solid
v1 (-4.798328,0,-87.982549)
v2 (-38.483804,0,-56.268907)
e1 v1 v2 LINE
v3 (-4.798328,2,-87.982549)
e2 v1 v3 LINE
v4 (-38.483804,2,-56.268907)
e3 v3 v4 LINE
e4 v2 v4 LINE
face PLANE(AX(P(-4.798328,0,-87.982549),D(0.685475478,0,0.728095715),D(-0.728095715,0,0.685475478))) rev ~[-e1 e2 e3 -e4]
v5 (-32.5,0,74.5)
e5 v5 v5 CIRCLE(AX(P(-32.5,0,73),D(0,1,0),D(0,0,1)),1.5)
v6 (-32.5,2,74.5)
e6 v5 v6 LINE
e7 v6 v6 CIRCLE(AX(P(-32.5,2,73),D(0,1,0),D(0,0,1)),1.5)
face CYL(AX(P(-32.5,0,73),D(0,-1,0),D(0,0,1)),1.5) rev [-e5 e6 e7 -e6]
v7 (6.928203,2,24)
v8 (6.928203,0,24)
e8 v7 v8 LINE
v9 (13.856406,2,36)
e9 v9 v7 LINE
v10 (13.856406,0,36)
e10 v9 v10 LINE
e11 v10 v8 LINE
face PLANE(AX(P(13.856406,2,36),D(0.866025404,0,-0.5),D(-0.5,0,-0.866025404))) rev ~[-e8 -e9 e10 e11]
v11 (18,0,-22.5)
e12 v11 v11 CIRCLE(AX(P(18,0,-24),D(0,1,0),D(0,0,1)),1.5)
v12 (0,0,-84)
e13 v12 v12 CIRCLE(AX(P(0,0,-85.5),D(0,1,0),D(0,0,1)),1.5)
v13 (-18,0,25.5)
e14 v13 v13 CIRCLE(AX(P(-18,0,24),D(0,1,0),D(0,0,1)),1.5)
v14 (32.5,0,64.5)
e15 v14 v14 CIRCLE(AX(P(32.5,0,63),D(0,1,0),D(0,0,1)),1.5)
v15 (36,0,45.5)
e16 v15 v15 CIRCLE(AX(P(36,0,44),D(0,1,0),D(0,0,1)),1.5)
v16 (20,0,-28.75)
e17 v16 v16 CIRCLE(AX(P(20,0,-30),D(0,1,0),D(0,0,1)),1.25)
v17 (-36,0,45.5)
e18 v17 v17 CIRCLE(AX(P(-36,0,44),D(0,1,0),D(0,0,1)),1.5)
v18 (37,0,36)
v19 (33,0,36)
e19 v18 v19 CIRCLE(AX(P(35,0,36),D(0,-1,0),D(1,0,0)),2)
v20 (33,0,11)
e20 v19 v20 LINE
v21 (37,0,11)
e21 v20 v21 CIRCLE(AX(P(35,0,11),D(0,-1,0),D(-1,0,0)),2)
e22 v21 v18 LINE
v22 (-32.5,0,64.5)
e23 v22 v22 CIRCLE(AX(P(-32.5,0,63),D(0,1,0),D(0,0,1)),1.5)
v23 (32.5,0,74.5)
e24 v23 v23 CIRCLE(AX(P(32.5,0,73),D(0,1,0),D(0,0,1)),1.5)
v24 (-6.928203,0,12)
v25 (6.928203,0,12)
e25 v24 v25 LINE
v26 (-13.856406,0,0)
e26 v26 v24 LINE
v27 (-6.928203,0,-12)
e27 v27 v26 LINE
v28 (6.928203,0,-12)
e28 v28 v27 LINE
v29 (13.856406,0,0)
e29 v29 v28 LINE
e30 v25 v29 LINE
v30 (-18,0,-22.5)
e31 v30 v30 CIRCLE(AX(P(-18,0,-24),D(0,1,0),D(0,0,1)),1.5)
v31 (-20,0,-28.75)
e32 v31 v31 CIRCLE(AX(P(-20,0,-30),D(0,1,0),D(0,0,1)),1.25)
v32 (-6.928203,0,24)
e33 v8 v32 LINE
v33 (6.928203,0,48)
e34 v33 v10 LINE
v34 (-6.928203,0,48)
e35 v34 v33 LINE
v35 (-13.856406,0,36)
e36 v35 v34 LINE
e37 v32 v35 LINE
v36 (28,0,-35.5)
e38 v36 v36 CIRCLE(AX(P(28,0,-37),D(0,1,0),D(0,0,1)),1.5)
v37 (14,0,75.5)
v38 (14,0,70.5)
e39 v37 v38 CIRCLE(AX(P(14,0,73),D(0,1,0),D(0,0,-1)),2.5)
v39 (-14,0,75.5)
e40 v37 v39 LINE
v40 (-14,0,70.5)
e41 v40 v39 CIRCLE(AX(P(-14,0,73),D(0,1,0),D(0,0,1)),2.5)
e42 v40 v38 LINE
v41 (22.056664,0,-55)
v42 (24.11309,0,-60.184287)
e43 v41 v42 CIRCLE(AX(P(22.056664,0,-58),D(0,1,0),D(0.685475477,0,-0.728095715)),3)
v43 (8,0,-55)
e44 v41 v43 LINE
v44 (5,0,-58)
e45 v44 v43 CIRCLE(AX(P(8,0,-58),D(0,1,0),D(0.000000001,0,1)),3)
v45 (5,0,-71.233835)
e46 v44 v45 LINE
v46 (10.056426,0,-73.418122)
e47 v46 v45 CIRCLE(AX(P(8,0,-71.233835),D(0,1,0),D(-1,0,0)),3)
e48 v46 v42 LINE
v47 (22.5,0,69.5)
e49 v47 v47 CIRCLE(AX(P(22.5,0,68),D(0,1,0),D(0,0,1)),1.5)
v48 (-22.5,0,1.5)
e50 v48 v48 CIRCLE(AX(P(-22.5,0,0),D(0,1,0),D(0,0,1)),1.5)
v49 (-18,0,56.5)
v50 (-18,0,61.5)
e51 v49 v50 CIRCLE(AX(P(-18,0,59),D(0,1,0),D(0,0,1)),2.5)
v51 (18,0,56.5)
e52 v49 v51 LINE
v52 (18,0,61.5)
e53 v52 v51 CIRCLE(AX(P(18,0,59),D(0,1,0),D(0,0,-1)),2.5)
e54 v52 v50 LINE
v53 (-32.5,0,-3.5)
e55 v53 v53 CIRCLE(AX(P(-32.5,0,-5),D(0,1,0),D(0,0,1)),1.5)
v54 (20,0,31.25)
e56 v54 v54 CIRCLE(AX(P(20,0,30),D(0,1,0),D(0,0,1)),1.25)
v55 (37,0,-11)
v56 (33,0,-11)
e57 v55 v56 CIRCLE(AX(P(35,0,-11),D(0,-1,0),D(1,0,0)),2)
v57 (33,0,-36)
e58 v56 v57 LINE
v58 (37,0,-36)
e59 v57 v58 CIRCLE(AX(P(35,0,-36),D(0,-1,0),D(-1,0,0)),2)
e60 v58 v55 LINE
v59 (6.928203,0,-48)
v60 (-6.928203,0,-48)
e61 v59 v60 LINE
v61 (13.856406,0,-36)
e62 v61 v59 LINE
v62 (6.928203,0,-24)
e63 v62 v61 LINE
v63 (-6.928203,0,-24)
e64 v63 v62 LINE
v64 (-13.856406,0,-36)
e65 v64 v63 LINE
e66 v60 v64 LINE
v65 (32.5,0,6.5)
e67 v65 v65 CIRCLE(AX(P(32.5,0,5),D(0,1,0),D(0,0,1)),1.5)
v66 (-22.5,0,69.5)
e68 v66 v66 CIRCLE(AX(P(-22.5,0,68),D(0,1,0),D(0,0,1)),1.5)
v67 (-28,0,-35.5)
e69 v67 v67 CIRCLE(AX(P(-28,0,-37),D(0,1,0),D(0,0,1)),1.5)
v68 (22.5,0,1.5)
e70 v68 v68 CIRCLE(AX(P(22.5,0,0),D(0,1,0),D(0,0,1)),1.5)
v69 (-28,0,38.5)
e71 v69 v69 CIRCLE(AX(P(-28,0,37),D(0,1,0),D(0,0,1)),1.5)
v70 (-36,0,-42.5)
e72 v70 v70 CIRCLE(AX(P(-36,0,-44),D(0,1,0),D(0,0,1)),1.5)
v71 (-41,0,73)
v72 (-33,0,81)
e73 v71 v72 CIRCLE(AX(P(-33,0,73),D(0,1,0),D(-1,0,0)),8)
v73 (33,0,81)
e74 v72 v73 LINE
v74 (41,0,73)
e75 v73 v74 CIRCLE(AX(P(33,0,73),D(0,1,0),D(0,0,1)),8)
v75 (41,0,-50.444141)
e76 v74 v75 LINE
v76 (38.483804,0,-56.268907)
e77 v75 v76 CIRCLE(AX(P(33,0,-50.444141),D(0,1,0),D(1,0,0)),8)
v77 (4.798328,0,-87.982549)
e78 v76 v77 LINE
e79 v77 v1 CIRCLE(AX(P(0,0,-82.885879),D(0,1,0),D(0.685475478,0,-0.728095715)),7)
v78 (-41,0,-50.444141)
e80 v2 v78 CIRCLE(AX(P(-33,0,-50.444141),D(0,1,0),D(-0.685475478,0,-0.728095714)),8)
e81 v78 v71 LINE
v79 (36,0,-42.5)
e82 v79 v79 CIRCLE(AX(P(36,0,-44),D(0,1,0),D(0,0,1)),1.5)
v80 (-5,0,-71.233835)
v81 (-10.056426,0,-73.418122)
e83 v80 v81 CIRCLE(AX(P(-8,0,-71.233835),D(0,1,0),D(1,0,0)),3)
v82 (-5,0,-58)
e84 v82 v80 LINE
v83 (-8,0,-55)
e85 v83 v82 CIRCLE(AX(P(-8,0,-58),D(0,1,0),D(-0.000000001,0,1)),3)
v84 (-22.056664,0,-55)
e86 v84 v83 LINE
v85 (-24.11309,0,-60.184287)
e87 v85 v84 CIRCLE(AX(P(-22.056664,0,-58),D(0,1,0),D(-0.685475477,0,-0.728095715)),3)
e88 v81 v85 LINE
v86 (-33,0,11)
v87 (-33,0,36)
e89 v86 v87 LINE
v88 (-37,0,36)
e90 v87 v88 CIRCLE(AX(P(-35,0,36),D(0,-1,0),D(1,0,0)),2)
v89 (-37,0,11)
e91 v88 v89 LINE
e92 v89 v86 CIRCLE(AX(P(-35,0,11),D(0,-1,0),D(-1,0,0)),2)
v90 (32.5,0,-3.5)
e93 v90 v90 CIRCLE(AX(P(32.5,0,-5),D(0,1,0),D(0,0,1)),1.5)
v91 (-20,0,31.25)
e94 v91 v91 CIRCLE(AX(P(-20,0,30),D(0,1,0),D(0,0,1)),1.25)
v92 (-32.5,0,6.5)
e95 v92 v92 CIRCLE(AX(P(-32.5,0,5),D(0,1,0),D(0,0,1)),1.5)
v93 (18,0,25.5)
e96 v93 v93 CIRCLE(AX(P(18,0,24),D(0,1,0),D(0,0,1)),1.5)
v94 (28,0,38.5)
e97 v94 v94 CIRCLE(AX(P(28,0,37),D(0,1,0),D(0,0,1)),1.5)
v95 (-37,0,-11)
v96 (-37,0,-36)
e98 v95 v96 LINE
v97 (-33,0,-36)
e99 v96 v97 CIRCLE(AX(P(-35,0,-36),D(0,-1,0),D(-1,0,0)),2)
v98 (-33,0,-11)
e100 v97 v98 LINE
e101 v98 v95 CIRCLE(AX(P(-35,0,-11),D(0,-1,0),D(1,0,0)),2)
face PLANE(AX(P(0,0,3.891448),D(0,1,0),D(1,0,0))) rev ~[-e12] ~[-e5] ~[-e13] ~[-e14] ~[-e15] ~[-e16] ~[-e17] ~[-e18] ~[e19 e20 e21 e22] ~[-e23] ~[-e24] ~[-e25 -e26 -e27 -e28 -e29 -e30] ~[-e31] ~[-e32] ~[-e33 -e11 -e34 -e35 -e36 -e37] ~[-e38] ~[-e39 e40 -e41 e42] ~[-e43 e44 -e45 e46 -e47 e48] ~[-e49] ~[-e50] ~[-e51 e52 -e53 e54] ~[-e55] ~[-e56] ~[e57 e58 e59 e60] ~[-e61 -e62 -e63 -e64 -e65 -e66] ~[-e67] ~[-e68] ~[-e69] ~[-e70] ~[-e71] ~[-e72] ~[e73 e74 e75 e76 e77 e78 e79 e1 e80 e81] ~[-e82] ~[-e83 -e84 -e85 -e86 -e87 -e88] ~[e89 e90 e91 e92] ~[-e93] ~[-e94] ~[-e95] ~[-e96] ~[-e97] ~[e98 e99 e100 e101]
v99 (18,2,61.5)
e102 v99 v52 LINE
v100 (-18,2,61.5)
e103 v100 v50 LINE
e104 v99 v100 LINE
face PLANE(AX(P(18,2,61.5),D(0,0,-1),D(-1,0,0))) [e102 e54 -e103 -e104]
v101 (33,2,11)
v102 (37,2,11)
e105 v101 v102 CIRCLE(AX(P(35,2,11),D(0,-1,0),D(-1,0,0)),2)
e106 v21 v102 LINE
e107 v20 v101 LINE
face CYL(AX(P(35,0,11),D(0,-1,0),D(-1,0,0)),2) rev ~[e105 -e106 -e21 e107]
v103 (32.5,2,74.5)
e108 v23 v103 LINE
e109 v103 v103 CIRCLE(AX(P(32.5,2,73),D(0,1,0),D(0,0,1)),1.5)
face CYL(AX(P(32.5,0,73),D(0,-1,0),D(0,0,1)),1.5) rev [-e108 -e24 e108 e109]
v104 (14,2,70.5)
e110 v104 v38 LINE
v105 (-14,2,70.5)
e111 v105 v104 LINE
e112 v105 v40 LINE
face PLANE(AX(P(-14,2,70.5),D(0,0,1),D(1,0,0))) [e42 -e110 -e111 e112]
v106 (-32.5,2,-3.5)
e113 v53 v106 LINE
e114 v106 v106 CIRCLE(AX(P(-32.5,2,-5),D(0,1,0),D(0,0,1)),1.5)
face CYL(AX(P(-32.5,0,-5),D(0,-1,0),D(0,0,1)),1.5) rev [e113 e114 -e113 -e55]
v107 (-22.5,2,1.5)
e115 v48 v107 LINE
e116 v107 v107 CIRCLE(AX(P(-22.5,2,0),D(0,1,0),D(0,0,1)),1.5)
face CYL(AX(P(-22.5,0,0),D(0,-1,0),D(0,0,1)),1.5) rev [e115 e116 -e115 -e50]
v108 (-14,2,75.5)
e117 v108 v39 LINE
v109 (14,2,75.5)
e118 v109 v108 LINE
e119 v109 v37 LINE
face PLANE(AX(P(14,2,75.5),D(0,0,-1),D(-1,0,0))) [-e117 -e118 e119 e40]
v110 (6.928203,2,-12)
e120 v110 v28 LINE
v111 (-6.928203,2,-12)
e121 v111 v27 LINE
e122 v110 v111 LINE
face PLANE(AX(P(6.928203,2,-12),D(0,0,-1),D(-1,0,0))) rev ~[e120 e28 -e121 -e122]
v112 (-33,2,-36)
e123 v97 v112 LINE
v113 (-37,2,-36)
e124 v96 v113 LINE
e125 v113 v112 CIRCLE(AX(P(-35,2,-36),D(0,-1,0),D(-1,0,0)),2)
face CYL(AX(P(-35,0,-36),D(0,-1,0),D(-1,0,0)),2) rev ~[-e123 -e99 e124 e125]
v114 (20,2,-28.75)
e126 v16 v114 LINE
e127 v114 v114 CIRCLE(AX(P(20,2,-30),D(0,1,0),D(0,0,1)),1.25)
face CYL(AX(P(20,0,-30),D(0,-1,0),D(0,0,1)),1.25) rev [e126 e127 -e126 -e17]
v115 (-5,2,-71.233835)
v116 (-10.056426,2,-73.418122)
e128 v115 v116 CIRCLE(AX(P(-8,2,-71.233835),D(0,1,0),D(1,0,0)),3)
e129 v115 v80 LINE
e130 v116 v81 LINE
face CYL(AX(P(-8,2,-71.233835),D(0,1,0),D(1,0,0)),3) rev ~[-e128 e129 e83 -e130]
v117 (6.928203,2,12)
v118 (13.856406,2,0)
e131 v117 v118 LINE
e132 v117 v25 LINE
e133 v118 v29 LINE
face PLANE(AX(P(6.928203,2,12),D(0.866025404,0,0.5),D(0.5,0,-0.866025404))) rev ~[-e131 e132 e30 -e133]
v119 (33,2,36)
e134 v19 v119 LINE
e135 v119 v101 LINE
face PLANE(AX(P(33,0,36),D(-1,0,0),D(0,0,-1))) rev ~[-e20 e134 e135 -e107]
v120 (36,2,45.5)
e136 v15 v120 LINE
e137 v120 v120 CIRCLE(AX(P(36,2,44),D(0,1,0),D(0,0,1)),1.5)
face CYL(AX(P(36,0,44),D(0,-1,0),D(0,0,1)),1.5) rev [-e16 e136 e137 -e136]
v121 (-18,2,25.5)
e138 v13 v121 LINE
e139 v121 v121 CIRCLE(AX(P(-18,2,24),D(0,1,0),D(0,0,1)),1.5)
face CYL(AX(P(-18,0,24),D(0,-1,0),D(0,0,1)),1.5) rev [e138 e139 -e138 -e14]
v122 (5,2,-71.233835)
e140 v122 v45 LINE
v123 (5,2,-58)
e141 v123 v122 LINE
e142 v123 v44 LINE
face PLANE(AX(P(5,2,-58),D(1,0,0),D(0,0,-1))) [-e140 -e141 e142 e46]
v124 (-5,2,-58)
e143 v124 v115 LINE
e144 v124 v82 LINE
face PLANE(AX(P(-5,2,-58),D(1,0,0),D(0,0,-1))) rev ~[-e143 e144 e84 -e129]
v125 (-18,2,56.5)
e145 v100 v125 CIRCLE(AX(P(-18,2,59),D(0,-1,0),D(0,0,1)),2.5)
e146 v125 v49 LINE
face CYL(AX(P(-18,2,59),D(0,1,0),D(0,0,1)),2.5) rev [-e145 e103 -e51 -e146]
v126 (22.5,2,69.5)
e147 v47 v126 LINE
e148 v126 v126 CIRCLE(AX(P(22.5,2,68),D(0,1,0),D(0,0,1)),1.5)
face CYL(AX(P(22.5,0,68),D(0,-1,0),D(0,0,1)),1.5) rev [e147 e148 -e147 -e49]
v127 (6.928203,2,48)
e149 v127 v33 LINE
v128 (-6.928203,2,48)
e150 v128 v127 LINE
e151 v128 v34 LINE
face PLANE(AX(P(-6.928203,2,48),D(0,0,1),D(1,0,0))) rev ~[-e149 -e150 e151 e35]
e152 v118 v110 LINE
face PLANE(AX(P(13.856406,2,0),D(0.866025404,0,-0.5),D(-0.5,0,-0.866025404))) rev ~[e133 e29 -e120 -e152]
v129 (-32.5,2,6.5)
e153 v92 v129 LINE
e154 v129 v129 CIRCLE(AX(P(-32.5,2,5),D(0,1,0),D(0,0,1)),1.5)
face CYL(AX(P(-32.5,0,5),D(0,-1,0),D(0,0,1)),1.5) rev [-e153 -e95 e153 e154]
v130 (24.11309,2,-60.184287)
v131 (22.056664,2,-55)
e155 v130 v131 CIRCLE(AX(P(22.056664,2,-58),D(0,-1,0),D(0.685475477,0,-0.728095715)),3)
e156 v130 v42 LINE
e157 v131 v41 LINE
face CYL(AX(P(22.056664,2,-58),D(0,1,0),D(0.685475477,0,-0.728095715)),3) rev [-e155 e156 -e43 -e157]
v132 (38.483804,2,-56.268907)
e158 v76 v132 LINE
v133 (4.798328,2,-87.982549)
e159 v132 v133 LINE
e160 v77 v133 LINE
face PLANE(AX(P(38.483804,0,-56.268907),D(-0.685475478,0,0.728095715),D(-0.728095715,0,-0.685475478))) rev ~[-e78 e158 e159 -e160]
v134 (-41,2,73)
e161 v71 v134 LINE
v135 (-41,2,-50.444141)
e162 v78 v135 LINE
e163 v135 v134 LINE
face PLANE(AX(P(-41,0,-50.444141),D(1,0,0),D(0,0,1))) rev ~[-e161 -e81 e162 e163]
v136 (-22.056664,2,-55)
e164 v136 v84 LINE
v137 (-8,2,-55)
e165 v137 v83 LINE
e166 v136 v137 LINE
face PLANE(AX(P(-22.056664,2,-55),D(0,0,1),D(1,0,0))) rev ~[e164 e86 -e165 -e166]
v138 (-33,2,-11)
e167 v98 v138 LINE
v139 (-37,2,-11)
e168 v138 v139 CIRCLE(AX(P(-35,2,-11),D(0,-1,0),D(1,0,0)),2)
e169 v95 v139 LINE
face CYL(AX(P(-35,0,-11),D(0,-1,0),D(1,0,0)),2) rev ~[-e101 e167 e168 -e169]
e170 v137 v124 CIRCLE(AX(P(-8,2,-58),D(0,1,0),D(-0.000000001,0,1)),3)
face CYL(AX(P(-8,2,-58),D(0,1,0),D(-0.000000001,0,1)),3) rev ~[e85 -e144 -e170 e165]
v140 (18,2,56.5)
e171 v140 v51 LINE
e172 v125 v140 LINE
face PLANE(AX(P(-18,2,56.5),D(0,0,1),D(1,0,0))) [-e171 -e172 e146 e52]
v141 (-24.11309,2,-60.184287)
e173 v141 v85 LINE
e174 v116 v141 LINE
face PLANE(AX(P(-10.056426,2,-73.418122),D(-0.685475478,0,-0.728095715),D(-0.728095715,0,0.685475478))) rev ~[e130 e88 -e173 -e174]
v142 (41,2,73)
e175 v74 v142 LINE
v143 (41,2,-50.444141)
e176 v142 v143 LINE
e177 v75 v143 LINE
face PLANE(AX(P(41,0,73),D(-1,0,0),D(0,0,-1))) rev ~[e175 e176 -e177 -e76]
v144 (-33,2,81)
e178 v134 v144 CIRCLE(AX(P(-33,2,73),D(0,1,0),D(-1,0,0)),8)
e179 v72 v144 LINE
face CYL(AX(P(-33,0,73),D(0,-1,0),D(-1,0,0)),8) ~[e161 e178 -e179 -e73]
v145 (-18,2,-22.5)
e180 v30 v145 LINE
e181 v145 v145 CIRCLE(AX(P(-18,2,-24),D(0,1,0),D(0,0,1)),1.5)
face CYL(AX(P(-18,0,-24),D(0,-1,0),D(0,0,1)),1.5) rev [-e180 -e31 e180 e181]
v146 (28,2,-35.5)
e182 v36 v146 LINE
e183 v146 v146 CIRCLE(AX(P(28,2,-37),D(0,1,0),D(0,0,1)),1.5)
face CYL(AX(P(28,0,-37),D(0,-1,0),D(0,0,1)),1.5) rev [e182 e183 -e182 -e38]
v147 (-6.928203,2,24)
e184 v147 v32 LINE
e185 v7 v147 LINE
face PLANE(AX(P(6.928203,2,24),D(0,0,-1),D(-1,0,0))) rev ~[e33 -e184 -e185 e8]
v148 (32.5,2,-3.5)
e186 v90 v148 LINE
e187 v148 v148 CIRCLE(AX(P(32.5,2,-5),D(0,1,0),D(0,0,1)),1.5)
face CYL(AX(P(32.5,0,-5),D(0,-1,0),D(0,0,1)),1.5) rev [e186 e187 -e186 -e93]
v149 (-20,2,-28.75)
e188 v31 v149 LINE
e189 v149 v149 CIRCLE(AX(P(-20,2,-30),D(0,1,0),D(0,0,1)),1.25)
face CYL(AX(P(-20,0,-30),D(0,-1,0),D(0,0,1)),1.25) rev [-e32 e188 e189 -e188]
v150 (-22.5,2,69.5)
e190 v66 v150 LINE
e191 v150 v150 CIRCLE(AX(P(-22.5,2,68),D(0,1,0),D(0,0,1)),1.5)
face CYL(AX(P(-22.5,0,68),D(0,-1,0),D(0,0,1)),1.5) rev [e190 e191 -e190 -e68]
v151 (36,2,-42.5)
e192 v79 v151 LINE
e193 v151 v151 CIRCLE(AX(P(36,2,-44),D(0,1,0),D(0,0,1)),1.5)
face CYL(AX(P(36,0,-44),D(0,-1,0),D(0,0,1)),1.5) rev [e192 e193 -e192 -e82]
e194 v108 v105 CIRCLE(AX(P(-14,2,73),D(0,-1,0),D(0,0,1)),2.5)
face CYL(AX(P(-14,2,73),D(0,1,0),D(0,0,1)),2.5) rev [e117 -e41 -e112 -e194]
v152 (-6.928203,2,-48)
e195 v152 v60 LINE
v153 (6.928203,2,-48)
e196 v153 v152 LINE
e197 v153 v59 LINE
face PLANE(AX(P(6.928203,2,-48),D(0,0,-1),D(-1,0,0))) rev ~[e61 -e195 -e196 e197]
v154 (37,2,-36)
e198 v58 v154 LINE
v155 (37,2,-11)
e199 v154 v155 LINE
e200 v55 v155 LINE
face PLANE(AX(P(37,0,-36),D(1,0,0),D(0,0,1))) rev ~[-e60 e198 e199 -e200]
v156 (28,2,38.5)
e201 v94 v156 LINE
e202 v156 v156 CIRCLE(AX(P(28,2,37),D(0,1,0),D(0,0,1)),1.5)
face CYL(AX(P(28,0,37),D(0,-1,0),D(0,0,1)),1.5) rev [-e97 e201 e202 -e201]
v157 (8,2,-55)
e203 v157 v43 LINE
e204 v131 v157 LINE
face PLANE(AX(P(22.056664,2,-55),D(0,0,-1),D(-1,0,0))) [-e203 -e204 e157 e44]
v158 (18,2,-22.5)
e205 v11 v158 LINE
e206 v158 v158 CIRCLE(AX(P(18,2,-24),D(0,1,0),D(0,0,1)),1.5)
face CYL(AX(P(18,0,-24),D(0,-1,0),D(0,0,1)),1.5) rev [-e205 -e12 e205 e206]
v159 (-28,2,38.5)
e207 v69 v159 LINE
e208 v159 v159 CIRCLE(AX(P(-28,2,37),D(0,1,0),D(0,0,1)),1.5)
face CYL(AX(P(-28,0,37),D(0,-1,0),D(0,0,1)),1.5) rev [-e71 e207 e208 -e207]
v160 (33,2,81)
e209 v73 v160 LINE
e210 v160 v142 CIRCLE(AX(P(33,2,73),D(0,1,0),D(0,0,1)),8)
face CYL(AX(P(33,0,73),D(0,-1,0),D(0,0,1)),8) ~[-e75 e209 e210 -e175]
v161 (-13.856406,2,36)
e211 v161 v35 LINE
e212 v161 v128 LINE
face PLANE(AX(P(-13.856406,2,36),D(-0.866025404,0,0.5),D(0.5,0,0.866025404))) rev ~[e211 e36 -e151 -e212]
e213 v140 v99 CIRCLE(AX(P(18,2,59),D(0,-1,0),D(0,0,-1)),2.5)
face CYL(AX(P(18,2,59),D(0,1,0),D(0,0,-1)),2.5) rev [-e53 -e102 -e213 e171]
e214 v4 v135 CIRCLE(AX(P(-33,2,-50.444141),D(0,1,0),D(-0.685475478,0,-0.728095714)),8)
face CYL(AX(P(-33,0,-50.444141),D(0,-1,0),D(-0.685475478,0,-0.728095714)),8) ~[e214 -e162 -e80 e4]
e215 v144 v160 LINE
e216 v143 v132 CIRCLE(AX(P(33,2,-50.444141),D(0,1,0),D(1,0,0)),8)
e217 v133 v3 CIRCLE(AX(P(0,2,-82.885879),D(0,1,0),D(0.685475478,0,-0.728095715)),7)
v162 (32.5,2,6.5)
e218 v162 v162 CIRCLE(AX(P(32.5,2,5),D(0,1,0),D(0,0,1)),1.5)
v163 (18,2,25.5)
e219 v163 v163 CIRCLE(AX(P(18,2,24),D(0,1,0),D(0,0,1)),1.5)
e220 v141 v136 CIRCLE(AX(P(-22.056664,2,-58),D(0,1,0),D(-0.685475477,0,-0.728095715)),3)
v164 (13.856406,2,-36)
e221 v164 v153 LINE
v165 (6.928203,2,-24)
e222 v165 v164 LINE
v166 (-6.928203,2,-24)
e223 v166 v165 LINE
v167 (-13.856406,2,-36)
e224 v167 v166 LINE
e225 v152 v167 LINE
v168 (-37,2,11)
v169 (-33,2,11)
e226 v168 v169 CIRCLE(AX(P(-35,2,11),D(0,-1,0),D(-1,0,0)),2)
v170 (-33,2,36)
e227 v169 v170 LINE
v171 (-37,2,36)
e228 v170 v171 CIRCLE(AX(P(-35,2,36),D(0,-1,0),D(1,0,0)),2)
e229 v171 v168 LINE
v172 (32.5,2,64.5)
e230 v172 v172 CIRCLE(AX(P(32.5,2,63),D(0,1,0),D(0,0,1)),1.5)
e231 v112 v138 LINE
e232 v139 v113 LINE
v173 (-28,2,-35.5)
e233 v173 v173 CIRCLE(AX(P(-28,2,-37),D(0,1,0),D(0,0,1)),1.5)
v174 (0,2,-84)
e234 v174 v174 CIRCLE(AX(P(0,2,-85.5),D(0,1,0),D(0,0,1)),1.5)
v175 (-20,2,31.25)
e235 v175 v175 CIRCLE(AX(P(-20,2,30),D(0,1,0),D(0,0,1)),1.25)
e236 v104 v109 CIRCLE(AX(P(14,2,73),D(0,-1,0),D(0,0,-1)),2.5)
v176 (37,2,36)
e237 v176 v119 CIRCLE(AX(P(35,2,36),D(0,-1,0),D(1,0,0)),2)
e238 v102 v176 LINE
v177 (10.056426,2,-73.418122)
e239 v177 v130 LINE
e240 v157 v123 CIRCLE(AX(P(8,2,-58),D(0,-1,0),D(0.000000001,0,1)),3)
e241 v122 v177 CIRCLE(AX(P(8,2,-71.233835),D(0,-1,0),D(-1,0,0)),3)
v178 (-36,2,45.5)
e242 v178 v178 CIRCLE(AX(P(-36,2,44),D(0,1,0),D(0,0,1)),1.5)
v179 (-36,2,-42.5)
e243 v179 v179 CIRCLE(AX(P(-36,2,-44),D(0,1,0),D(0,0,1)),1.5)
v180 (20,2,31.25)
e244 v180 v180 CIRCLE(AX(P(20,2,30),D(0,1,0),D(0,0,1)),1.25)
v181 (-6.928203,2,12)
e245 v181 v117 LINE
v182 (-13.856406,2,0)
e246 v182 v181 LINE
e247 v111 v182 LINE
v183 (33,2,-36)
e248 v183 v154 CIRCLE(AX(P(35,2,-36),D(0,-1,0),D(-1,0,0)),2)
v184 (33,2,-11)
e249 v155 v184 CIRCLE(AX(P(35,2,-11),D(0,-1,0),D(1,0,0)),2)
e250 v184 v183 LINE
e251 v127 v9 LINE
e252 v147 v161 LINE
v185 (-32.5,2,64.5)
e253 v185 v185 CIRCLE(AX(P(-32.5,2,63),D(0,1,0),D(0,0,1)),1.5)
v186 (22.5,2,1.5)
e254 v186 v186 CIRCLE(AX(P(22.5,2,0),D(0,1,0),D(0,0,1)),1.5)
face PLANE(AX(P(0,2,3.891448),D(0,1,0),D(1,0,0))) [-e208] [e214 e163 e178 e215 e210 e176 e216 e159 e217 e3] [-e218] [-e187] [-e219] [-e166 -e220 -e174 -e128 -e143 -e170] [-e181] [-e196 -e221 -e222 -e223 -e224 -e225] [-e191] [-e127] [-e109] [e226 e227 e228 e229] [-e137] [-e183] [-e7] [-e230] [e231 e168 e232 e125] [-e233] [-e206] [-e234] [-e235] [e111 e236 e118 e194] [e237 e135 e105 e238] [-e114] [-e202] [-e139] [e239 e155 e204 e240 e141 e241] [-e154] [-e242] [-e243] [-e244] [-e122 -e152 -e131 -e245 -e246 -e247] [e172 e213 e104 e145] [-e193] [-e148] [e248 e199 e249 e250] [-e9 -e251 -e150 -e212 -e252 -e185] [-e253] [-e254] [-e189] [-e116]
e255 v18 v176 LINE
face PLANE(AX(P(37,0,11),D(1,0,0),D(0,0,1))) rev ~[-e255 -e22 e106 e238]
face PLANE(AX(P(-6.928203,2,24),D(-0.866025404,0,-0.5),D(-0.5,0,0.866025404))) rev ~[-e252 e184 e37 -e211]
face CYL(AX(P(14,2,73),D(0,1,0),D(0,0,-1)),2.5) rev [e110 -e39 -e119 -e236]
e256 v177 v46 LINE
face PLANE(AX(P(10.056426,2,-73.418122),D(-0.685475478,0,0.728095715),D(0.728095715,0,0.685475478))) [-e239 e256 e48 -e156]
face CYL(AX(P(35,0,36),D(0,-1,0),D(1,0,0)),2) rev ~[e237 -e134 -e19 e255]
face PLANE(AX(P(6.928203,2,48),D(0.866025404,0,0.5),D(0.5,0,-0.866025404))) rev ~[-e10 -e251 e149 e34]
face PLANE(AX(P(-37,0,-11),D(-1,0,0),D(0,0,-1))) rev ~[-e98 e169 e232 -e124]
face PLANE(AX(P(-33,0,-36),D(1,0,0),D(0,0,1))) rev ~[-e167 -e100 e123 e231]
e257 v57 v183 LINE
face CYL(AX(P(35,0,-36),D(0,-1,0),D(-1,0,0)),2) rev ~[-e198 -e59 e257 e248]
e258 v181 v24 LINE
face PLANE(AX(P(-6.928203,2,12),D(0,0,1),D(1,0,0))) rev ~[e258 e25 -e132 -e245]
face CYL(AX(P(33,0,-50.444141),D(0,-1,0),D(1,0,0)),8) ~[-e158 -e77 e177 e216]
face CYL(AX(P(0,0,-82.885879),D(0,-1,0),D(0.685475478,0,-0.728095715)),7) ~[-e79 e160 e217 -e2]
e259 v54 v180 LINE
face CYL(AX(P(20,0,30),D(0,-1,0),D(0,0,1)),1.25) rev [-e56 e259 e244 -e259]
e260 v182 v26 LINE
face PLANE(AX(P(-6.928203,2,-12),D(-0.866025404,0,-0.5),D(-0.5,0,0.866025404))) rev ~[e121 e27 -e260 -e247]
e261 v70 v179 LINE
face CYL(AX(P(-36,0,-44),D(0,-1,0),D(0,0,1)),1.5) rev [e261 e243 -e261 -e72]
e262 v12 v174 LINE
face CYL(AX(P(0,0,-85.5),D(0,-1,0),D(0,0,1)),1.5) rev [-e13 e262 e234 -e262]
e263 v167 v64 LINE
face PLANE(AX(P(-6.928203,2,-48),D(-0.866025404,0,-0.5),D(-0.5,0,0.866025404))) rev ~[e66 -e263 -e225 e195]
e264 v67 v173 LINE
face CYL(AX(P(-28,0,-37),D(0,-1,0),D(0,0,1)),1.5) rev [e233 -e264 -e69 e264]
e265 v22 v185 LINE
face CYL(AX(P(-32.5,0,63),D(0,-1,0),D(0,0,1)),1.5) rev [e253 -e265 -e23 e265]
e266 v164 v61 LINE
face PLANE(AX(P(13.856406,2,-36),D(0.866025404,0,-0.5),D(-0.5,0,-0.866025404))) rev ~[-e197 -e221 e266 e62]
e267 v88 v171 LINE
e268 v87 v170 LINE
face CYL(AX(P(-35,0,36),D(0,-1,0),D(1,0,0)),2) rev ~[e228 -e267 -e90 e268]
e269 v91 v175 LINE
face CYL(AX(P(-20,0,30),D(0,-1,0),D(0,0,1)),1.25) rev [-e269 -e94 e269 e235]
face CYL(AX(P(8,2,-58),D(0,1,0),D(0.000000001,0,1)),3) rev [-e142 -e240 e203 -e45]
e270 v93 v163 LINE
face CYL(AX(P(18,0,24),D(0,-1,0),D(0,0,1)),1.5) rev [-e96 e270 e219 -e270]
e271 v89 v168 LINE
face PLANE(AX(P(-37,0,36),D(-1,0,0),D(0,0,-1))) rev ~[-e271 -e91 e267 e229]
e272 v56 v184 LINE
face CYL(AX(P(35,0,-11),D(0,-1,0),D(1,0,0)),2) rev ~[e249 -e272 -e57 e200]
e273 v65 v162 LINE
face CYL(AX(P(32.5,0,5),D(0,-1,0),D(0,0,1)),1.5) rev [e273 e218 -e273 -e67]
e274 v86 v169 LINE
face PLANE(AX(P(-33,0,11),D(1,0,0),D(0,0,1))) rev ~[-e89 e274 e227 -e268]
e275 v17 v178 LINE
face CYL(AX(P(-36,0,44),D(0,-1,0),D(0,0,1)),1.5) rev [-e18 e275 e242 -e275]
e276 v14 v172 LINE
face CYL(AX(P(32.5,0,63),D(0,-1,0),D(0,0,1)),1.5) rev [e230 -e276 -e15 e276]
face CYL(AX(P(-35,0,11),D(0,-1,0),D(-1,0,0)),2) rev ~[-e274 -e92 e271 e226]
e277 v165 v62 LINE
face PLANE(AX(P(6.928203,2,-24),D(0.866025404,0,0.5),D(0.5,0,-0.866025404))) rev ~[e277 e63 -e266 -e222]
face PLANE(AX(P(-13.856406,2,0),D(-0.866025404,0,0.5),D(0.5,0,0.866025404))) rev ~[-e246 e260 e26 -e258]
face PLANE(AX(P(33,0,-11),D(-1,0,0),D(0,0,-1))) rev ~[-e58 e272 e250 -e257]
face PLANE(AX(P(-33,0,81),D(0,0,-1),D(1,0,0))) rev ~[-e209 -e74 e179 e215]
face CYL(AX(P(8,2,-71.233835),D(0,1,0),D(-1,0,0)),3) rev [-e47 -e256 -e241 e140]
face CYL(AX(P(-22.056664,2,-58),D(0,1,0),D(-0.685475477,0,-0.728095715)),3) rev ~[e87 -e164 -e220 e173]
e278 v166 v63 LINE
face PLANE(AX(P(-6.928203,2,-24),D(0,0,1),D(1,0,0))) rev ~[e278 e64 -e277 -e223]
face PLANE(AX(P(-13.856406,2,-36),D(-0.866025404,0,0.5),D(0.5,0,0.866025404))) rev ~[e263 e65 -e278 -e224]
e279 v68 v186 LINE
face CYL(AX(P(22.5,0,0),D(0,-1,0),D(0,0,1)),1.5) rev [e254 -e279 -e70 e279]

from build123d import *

# Parameters (mm, degrees)
SKETCH_1_R          = 1.25
SKETCH_1_R_2        = 1.5
EXTRUDE_1_DEPTH     = 2
CUT_EXTRUDE_1_DEPTH = 99.815339485


with BuildPart() as part:
    # 草图1 → 凸台-拉伸1 (new body)
    with BuildSketch(Plane(origin=(0, 0, 0), x_dir=(1, 0, 0), z_dir=(0, 1, 0))):
        with BuildLine():
            Line((-33, -81), (33, -81))
            ThreePointArc((33, -81), (38.656854249, -78.656854249), (41, -73))
            Line((41, -73), (41, 50.44414093))
            ThreePointArc((41, 50.44414093), (40.344059864, 53.616645416), (38.483803821, 56.268906647))
            Line((38.483803821, 56.268906647), (4.798328343, 87.982549413))
            ThreePointArc((4.798328343, 87.982549413), (0, 89.885879411), (-4.798328343, 87.982549413))
            Line((-4.798328343, 87.982549413), (-38.483803821, 56.268906647))
            ThreePointArc((-38.483803821, 56.268906647), (-40.344059864, 53.616645416), (-41, 50.44414093))
            Line((-41, 50.44414093), (-41, -73))
            ThreePointArc((-41, -73), (-38.656854249, -78.656854249), (-33, -81))
        make_face()
        with Locations(Location((-20, 30, 0), (0, 0, 270))):
            Circle(SKETCH_1_R, mode=Mode.SUBTRACT)
        with Locations(Location((20, 30, 0), (0, 0, 270))):
            Circle(SKETCH_1_R, mode=Mode.SUBTRACT)
        with Locations(Location((20, -30, 0), (0, 0, 270))):
            Circle(SKETCH_1_R, mode=Mode.SUBTRACT)
        with Locations(Location((-20, -30, 0), (0, 0, 270))):
            Circle(SKETCH_1_R, mode=Mode.SUBTRACT)
        with Locations(Location((0, 85.5, 0), (0, 0, 270))):
            Circle(SKETCH_1_R_2, mode=Mode.SUBTRACT)
        with Locations(Location((-36, 44, 0), (0, 0, 270))):
            Circle(SKETCH_1_R_2, mode=Mode.SUBTRACT)
        with Locations(Location((36, 44, 0), (0, 0, 270))):
            Circle(SKETCH_1_R_2, mode=Mode.SUBTRACT)
        with Locations(Location((36, -44, 0), (0, 0, 270))):
            Circle(SKETCH_1_R_2, mode=Mode.SUBTRACT)
        with Locations(Location((-36, -44, 0), (0, 0, 270))):
            Circle(SKETCH_1_R_2, mode=Mode.SUBTRACT)
        with Locations(Location((-32.5, 5, 0), (0, 0, 270))):
            Circle(SKETCH_1_R_2, mode=Mode.SUBTRACT)
        with Locations(Location((-32.5, -5, 0), (0, 0, 270))):
            Circle(SKETCH_1_R_2, mode=Mode.SUBTRACT)
        with Locations(Location((32.5, 5, 0), (0, 0, 270))):
            Circle(SKETCH_1_R_2, mode=Mode.SUBTRACT)
        with Locations(Location((32.5, -5, 0), (0, 0, 270))):
            Circle(SKETCH_1_R_2, mode=Mode.SUBTRACT)
        with Locations(Location((22.5, 0, 0), (0, 0, 270))):
            Circle(SKETCH_1_R_2, mode=Mode.SUBTRACT)
        with Locations(Location((-22.5, 0, 0), (0, 0, 270))):
            Circle(SKETCH_1_R_2, mode=Mode.SUBTRACT)
        with Locations(Location((-32.5, -63, 0), (0, 0, 270))):
            Circle(SKETCH_1_R_2, mode=Mode.SUBTRACT)
        with Locations(Location((-32.5, -73, 0), (0, 0, 270))):
            Circle(SKETCH_1_R_2, mode=Mode.SUBTRACT)
        with Locations(Location((-22.5, -68, 0), (0, 0, 270))):
            Circle(SKETCH_1_R_2, mode=Mode.SUBTRACT)
        with Locations(Location((32.5, -63, 0), (0, 0, 270))):
            Circle(SKETCH_1_R_2, mode=Mode.SUBTRACT)
        with Locations(Location((22.5, -68, 0), (0, 0, 270))):
            Circle(SKETCH_1_R_2, mode=Mode.SUBTRACT)
        with Locations(Location((32.5, -73, 0), (0, 0, 270))):
            Circle(SKETCH_1_R_2, mode=Mode.SUBTRACT)
        with Locations(Location((-18, 24, 0), (0, 0, 270))):
            Circle(SKETCH_1_R_2, mode=Mode.SUBTRACT)
        with Locations(Location((18, 24, 0), (0, 0, 270))):
            Circle(SKETCH_1_R_2, mode=Mode.SUBTRACT)
        with Locations(Location((18, -24, 0), (0, 0, 270))):
            Circle(SKETCH_1_R_2, mode=Mode.SUBTRACT)
        with Locations(Location((-18, -24, 0), (0, 0, 270))):
            Circle(SKETCH_1_R_2, mode=Mode.SUBTRACT)
        with Locations(Location((-28, 37, 0), (0, 0, 270))):
            Circle(SKETCH_1_R_2, mode=Mode.SUBTRACT)
        with Locations(Location((28, 37, 0), (0, 0, 270))):
            Circle(SKETCH_1_R_2, mode=Mode.SUBTRACT)
        with Locations(Location((-28, -37, 0), (0, 0, 270))):
            Circle(SKETCH_1_R_2, mode=Mode.SUBTRACT)
        with Locations(Location((28, -37, 0), (0, 0, 270))):
            Circle(SKETCH_1_R_2, mode=Mode.SUBTRACT)
        with BuildLine():
            Line((-37, 11), (-37, 36))
            ThreePointArc((-37, 36), (-35, 38), (-33, 36))
            Line((-33, 36), (-33, 11))
            ThreePointArc((-33, 11), (-35, 9), (-37, 11))
        make_face(mode=Mode.SUBTRACT)
        with BuildLine():
            Line((33, 11), (33, 36))
            ThreePointArc((33, 36), (35, 38), (37, 36))
            Line((37, 36), (37, 11))
            ThreePointArc((37, 11), (35, 9), (33, 11))
        make_face(mode=Mode.SUBTRACT)
        with BuildLine():
            Line((33, -36), (33, -11))
            ThreePointArc((33, -11), (35, -9), (37, -11))
            Line((37, -11), (37, -36))
            ThreePointArc((37, -36), (35, -38), (33, -36))
        make_face(mode=Mode.SUBTRACT)
        with BuildLine():
            Line((-37, -36), (-37, -11))
            ThreePointArc((-37, -11), (-35, -9), (-33, -11))
            Line((-33, -11), (-33, -36))
            ThreePointArc((-33, -36), (-35, -38), (-37, -36))
        make_face(mode=Mode.SUBTRACT)
    extrude(amount=EXTRUDE_1_DEPTH)

    # 草图3 → 切除-拉伸1 (cut, through all)
    with BuildSketch(Plane(origin=(0, 2, 0), x_dir=(1, 0, 0), z_dir=(0, 1, 0))):
        with BuildLine():
            Line((-22.0566638, 55), (-8, 55))
            ThreePointArc((-8, 55), (-5.878679656, 55.878679656), (-5, 58))
            Line((-5, 58), (-5, 71.233834699))
            ThreePointArc((-5, 71.233834699), (-6.810310818, 73.987857148), (-10.056426433, 73.418121843))
            Line((-10.056426433, 73.418121843), (-24.113090232, 60.184287144))
            ThreePointArc((-24.113090232, 60.184287144), (-24.845289037, 56.893849339), (-22.0566638, 55))
        make_face()
        with BuildLine():
            Line((22.0566638, 55), (8, 55))
            ThreePointArc((8, 55), (5.878679656, 55.878679656), (5, 58))
            Line((5, 58), (5, 71.233834699))
            ThreePointArc((5, 71.233834699), (6.810310818, 73.987857148), (10.056426433, 73.418121843))
            Line((10.056426433, 73.418121843), (24.113090232, 60.184287144))
            ThreePointArc((24.113090232, 60.184287144), (24.845289037, 56.893849339), (22.0566638, 55))
        make_face()
        Polygon((6.92820323, 12), (-6.92820323, 12), (-13.856406461, 0), (-6.92820323, -12), (6.92820323, -12), (13.856406461, 0), align=None)
        Polygon((13.856406461, 36), (6.92820323, 48), (-6.92820323, 48), (-13.856406461, 36), (-6.92820323, 24), (6.92820323, 24), align=None)
        Polygon((13.856406461, -36), (6.92820323, -24), (-6.92820323, -24), (-13.856406461, -36), (-6.92820323, -48), (6.92820323, -48), align=None)
        with BuildLine():
            Line((-14, -70.5), (14, -70.5))
            ThreePointArc((14, -70.5), (16.5, -73), (14, -75.5))
            Line((14, -75.5), (-14, -75.5))
            ThreePointArc((-14, -75.5), (-16.5, -73), (-14, -70.5))
        make_face()
        with BuildLine():
            Line((-18, -56.5), (18, -56.5))
            ThreePointArc((18, -56.5), (20.5, -59), (18, -61.5))
            Line((18, -61.5), (-18, -61.5))
            ThreePointArc((-18, -61.5), (-20.5, -59), (-18, -56.5))
        make_face()
    extrude(amount=-CUT_EXTRUDE_1_DEPTH, mode=Mode.SUBTRACT)


solid = part.part
